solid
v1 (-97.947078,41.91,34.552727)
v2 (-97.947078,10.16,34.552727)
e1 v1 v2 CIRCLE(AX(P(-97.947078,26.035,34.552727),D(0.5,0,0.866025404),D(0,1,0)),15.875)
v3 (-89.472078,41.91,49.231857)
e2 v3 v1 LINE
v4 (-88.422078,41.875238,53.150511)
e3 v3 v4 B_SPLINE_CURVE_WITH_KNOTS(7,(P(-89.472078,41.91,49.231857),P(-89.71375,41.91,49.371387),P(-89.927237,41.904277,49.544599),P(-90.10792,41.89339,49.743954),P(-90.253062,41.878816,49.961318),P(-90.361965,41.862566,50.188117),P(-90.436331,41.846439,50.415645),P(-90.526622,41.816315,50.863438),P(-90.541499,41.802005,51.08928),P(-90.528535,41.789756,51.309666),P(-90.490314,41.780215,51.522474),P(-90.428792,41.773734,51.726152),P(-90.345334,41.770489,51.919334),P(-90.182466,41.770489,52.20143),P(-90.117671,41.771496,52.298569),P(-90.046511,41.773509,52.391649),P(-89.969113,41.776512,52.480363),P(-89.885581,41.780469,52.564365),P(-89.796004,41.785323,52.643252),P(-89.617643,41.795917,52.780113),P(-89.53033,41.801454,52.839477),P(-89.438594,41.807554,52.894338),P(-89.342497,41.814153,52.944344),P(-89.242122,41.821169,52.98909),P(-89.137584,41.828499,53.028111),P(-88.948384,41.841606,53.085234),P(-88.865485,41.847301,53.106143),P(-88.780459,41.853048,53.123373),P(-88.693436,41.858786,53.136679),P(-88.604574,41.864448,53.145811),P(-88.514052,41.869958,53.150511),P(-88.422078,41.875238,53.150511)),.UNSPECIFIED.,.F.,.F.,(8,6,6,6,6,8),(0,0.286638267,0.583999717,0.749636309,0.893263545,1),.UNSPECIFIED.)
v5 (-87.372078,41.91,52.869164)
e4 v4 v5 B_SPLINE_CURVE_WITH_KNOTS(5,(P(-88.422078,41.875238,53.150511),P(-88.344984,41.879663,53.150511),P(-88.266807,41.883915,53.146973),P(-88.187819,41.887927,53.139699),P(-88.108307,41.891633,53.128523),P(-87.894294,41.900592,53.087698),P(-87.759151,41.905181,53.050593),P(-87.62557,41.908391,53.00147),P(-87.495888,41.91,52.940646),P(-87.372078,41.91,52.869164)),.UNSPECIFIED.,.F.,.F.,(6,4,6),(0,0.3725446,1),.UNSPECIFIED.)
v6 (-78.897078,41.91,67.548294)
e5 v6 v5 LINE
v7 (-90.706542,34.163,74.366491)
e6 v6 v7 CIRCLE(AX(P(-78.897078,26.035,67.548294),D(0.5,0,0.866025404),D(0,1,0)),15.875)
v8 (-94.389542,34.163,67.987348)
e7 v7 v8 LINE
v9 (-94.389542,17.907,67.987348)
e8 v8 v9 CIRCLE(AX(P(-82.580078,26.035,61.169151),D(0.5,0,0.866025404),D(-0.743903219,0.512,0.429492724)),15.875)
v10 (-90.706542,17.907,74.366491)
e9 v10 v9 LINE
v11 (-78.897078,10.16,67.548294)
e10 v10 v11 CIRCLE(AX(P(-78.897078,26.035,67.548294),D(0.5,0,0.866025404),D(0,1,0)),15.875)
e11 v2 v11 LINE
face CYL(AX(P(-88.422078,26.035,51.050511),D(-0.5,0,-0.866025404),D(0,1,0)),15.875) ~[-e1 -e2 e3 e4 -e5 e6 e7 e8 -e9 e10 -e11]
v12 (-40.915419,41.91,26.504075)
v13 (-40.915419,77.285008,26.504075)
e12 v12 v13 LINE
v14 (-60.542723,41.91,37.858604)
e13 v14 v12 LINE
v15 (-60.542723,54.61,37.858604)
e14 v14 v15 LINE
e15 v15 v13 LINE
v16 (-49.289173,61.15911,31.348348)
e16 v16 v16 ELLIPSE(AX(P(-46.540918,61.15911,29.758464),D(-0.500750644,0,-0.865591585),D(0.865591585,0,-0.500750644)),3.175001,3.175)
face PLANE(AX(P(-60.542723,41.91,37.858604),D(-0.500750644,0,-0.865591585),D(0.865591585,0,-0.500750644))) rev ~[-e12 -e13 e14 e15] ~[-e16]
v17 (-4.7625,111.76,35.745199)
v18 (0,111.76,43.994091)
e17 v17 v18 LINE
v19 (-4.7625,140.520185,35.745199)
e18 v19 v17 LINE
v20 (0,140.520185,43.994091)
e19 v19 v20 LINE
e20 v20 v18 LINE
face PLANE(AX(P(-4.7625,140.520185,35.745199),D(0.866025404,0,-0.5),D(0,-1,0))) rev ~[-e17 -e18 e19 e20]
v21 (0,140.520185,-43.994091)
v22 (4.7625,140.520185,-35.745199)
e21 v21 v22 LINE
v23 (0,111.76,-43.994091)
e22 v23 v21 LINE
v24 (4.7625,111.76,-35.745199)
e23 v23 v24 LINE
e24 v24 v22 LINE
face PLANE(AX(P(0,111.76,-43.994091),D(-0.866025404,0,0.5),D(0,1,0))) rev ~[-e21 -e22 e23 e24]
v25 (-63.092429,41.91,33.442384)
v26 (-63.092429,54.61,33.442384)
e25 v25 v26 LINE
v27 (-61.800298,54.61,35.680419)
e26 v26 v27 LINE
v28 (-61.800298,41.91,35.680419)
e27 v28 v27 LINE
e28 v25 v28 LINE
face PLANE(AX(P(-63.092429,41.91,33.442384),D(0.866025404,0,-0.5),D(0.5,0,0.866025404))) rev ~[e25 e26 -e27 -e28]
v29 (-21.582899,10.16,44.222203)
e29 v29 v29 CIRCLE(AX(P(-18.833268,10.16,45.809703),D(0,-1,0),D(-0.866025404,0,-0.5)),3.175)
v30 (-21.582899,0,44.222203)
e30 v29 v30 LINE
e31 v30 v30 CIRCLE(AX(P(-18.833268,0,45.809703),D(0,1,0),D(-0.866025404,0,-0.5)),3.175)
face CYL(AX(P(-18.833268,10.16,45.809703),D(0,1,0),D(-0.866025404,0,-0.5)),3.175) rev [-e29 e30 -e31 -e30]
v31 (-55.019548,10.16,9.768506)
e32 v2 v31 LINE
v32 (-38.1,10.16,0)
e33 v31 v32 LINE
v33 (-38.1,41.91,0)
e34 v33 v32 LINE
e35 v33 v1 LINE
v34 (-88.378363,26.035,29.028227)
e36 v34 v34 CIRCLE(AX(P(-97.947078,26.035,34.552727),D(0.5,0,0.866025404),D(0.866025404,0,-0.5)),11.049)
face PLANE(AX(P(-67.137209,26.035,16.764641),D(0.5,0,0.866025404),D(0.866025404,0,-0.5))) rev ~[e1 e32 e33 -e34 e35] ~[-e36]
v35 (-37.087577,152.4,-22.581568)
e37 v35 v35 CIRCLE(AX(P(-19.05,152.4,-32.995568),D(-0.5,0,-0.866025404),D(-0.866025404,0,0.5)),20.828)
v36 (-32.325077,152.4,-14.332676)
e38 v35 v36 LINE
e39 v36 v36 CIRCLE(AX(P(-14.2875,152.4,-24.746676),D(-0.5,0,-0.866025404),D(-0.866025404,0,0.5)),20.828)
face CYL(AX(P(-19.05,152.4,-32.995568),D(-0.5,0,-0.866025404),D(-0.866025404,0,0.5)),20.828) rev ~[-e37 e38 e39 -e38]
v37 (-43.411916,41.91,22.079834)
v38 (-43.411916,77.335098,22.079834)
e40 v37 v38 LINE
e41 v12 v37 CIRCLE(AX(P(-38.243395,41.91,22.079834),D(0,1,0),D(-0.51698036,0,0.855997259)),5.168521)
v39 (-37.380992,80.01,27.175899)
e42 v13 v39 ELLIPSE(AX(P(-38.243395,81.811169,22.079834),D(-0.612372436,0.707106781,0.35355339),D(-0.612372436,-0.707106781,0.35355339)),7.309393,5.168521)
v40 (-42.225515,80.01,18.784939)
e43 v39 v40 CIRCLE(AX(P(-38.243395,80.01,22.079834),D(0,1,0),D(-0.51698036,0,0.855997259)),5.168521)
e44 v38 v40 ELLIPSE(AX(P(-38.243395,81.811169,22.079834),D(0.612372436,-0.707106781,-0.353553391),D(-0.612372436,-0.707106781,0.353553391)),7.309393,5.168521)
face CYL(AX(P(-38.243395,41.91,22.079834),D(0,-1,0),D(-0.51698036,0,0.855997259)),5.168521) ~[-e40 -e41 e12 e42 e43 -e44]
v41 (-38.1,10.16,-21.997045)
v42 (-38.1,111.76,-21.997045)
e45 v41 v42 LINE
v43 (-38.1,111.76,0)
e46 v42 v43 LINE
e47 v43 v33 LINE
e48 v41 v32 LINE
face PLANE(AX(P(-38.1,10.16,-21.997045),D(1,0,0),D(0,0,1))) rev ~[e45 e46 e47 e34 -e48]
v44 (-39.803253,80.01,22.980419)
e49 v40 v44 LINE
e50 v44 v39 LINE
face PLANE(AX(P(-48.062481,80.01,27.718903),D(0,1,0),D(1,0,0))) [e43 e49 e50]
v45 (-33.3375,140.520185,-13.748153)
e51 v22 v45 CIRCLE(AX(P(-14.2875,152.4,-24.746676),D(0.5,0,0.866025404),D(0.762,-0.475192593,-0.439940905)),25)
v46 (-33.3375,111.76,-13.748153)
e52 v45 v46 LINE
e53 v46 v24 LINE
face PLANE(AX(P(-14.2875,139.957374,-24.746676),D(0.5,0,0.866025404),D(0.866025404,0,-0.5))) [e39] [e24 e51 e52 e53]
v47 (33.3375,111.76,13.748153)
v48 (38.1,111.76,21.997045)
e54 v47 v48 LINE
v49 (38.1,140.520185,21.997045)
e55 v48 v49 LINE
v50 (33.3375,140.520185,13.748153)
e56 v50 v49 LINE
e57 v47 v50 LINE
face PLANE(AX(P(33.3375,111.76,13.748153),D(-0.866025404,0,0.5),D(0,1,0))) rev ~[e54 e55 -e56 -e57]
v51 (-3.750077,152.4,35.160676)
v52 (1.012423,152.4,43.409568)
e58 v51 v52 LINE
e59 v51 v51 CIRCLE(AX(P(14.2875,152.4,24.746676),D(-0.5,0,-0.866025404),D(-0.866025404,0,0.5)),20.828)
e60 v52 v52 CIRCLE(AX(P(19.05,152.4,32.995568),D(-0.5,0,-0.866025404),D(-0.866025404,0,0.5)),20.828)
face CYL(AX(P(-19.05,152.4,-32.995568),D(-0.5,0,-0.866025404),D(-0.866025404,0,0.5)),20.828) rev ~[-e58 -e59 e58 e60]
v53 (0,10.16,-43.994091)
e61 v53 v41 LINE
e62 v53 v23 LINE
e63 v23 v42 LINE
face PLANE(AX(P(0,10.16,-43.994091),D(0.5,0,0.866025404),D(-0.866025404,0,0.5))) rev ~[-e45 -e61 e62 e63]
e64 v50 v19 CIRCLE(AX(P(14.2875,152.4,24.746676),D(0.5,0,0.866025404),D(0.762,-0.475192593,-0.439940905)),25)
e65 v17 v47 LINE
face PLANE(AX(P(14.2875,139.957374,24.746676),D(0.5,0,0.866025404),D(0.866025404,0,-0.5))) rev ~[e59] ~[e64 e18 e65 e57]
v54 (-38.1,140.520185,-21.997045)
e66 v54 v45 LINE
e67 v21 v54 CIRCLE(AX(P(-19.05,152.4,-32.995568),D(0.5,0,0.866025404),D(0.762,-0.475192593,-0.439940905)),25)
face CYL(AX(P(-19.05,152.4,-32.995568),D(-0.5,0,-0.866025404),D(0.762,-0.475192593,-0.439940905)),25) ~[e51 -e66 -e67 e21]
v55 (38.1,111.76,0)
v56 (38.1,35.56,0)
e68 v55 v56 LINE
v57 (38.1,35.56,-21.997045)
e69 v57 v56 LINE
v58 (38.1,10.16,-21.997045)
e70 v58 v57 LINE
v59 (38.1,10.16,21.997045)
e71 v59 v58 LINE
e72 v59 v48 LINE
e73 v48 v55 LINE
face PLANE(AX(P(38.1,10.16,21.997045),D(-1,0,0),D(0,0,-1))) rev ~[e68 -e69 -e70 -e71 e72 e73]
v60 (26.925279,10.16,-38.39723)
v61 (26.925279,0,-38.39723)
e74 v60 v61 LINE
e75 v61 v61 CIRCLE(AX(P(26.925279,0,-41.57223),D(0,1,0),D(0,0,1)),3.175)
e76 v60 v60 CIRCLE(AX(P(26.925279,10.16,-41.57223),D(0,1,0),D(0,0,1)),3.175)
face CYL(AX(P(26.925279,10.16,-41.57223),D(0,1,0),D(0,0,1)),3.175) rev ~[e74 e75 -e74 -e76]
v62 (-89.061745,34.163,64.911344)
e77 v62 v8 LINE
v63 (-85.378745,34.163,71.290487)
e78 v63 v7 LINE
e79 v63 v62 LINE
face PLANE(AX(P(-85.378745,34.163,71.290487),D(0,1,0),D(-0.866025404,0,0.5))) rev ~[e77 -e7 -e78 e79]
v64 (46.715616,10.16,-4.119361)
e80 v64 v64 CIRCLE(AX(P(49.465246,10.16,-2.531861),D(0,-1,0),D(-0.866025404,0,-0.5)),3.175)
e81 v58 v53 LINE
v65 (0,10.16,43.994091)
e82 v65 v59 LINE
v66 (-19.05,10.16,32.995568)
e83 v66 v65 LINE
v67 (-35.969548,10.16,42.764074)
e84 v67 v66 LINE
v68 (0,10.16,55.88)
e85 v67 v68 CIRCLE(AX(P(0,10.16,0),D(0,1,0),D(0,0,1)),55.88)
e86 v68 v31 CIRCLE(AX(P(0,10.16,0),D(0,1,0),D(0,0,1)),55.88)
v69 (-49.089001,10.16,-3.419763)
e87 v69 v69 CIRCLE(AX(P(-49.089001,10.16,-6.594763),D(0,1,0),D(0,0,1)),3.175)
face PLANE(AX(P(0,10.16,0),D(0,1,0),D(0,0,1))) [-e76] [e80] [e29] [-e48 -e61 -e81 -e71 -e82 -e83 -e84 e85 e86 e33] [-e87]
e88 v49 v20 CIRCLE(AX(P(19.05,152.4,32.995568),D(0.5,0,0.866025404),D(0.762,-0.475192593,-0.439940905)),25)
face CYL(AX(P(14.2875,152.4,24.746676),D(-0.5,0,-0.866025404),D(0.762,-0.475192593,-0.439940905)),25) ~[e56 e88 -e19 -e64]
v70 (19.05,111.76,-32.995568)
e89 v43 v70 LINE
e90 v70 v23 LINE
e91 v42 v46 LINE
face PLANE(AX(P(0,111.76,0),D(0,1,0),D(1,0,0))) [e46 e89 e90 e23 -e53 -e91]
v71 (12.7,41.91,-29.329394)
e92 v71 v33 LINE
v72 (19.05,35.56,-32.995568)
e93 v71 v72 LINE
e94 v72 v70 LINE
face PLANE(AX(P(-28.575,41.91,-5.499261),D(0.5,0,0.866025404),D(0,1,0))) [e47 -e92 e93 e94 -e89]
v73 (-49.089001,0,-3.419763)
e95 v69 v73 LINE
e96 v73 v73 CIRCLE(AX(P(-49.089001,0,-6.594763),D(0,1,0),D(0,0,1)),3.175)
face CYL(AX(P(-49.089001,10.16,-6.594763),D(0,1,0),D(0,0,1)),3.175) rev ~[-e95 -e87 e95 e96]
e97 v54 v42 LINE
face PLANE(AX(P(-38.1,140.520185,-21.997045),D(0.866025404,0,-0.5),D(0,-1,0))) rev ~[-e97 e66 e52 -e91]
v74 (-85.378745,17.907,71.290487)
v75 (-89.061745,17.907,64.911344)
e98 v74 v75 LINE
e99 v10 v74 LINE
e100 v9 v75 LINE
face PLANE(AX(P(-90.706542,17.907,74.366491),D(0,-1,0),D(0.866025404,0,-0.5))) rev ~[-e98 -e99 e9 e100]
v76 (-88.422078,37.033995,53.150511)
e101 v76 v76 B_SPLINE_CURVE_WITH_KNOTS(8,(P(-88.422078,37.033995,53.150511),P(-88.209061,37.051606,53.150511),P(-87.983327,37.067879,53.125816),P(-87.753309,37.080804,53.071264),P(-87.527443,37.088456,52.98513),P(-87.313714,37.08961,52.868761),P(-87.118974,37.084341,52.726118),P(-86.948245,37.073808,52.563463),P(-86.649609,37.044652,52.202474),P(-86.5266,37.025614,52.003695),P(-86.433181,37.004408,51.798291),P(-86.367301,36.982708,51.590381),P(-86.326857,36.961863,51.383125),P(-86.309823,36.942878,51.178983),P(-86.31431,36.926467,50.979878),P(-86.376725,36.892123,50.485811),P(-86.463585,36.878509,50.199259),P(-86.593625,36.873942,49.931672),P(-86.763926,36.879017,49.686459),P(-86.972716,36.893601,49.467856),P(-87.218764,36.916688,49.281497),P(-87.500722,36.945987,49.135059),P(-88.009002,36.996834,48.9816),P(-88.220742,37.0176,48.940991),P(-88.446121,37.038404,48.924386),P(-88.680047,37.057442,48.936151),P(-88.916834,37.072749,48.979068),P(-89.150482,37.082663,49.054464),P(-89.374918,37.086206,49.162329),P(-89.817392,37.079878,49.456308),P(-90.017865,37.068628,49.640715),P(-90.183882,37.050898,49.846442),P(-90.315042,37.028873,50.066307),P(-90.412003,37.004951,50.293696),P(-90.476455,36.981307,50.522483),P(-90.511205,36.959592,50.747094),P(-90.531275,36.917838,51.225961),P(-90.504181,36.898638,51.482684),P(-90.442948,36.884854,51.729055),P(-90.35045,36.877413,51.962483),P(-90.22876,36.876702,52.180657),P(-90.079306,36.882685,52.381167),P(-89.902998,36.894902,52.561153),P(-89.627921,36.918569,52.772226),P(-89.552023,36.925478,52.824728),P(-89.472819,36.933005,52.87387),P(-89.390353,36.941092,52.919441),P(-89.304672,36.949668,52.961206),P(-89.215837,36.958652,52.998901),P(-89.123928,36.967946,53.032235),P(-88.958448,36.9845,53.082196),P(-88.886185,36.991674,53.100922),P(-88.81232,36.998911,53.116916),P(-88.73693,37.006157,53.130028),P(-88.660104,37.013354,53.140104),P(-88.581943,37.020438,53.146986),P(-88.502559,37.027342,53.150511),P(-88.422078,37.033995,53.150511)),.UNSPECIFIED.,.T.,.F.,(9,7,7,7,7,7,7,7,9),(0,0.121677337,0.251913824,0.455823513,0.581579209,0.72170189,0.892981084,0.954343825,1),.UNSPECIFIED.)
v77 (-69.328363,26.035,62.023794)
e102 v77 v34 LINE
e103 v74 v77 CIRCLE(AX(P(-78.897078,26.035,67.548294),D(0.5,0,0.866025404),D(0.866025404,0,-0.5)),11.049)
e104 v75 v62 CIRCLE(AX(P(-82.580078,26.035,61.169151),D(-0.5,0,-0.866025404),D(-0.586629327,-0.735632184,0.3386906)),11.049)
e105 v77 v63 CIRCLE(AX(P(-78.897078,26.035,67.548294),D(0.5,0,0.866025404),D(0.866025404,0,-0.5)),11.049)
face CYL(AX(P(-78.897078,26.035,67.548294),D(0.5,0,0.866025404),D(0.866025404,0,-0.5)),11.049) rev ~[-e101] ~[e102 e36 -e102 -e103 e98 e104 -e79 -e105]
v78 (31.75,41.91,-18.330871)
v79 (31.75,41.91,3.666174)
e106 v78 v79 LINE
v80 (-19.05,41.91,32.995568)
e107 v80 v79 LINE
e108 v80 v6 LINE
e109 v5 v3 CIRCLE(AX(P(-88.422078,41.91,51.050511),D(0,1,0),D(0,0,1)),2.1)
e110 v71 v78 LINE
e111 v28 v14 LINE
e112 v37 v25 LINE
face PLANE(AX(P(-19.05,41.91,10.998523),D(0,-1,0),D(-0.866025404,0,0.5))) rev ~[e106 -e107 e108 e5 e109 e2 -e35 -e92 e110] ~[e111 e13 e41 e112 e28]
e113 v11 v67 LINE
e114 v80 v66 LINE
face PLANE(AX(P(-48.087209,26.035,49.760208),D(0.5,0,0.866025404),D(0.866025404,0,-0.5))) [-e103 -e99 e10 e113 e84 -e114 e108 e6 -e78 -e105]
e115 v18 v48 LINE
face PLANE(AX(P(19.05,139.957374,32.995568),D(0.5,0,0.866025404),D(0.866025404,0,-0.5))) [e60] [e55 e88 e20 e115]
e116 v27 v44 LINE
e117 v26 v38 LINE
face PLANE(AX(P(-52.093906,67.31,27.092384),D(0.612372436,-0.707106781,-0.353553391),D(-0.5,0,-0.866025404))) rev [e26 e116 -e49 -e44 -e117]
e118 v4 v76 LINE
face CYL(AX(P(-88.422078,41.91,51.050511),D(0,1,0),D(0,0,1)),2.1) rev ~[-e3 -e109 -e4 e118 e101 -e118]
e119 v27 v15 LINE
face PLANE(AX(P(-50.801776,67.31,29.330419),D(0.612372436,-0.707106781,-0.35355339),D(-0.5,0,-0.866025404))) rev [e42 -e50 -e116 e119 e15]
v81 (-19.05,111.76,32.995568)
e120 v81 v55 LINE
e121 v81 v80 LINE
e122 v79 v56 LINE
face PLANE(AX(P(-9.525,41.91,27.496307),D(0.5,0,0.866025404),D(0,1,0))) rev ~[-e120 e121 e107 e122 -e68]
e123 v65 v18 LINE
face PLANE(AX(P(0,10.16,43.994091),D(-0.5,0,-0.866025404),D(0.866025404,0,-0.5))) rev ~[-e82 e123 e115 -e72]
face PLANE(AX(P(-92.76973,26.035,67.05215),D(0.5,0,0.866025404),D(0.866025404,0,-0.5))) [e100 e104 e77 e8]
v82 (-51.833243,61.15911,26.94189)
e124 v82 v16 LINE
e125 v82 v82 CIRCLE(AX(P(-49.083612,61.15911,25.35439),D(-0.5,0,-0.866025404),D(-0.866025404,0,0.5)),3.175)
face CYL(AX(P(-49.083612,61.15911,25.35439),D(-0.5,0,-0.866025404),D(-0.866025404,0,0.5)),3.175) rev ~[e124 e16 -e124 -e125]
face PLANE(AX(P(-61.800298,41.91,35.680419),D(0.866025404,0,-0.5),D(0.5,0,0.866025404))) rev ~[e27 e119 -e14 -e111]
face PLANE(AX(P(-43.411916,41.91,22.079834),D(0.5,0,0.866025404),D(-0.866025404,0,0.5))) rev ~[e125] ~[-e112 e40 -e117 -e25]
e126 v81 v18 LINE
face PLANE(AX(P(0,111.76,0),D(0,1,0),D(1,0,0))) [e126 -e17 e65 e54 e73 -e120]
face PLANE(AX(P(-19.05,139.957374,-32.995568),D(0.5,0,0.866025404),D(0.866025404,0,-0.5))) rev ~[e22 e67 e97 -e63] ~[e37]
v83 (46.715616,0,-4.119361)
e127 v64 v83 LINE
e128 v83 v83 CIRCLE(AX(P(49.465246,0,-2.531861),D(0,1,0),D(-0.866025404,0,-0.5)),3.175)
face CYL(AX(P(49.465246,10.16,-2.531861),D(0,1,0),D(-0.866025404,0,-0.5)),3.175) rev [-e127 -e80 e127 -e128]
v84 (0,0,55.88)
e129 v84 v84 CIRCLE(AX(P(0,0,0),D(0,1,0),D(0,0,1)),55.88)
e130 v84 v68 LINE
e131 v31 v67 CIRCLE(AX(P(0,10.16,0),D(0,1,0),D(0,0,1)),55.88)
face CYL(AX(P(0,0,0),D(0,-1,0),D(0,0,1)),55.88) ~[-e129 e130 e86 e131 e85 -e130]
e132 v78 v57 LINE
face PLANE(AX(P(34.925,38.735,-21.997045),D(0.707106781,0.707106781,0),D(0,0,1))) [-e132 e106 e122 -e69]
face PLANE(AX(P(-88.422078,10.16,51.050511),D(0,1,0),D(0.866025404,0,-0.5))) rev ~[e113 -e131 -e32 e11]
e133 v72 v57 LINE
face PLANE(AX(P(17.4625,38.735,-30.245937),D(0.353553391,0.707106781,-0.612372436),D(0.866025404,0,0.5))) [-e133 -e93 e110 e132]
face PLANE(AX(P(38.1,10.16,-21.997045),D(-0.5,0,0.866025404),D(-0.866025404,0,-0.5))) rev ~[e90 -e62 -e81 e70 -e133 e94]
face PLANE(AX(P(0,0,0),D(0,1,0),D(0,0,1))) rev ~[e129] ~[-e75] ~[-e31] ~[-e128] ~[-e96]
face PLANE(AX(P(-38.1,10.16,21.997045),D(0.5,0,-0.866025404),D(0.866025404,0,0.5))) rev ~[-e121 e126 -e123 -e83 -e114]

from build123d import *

# Parameters (mm, degrees)
SKETCH4_R            = 55.88
BOSS_EXTRUDE2_DEPTH  = 10.16
BOSS_EXTRUDE4_DEPTH  = 101.6
BOSS_EXTRUDE5_DEPTH  = 9.525
BOSS_EXTRUDE6_START  = -9.525
BOSS_EXTRUDE6_DEPTH  = 9.525
CUT_EXTRUDE4_REACH   = 214.095
SKETCH12_R           = 20.828
SKETCH13_W           = 38.1
SKETCH13_H           = 69.85
CUT_EXTRUDE5_DEPTH   = 76.2
BOSS_EXTRUDE10_DEPTH = 19.05
SKETCH28_R           = 11.049
CUT_EXTRUDE9_DEPTH   = 38.1
CUT_EXTRUDE10_DEPTH  = 7.366
CHAMFER1_SIZE        = 6.35
SKETCH30_R           = 2.1
CUT_EXTRUDE11_DEPTH  = 7.366
SKETCH31_R           = 3.175
CUT_EXTRUDE12_DEPTH  = 215.41878972
BOSS_EXTRUDE11_DEPTH = 38.1
CHAMFER2_SIZE        = 25.4
CUT_EXTRUDE13_REACH  = 224.549
SKETCH34_R           = 3.175


with BuildPart() as part:
    # Sketch4 → Boss-Extrude2 (new body)
    with BuildSketch(Plane(origin=(0, 0, 0), x_dir=(1, 0, 0), z_dir=(0, 1, 0))):
        with Locations(Location((0, 0, 0), (0, 0, 270))):
            Circle(SKETCH4_R)
    extrude(amount=BOSS_EXTRUDE2_DEPTH)

    # Sketch8 → Boss-Extrude4 (add)
    with BuildSketch(Plane(origin=(0, 10.16, 0), x_dir=(1, 0, 0), z_dir=(0, 1, 0))):
        Polygon((0, 43.994090512), (-38.1, 21.997045256), (-38.1, -21.997045256), (0, -43.994090512), (38.1, -21.997045256), (38.1, 21.997045256), align=None)
    extrude(amount=BOSS_EXTRUDE4_DEPTH)

    # Sketch9 → Boss-Extrude5 (add)
    with BuildSketch(Plane(origin=(-19.05, 0, -32.995567884), x_dir=(-0.8660254037844386, 0, 0.5000000000000003), z_dir=(-0.5000000000000002, 0, -0.8660254037844385))):
        with BuildLine():
            Line((21.997045256, 111.76), (-21.997045256, 111.76))
            Line((-21.997045256, 111.76), (-21.997045256, 140.520185187))
            ThreePointArc((-21.997045256, 140.520185187), (0, 177.4), (21.997045256, 140.520185187))
            Line((21.997045256, 140.520185187), (21.997045256, 111.76))
        make_face()
    extrude(amount=-BOSS_EXTRUDE5_DEPTH)

    # Sketch10 → Boss-Extrude6 (add)
    with BuildSketch(Plane(origin=(19.05, 0, 32.995567884), x_dir=(0.8660254037844386, 0, -0.5000000000000001), z_dir=(0.5000000000000001, 0, 0.8660254037844386)).offset(BOSS_EXTRUDE6_START)):
        with BuildLine():
            Line((-21.997045256, 111.76), (21.997045256, 111.76))
            Line((21.997045256, 111.76), (21.997045256, 140.520185187))
            ThreePointArc((21.997045256, 140.520185187), (0, 177.4), (-21.997045256, 140.520185187))
            Line((-21.997045256, 140.520185187), (-21.997045256, 111.76))
        make_face()
    extrude(amount=BOSS_EXTRUDE6_DEPTH)

    # Cut-Extrude4: up to this face of the body (flat: up to its plane)
    cut_extrude4_end = Plane(part.part.faces().sort_by_distance((19.05, 92.730612225, 32.995567884))[0])
    # Sketch12 → Cut-Extrude4 (cut, up to the picked face)
    with BuildSketch(Plane(origin=(-19.05, 0, -32.995567884), x_dir=(-0.8660254037844386, 0, 0.5000000000000003), z_dir=(-0.5000000000000002, 0, -0.8660254037844385)), mode=Mode.PRIVATE) as cut_extrude4_sk1:
        with Locations((0, 152.4)):
            Circle(SKETCH12_R)
    cut_extrude4_tool1 = split(extrude(cut_extrude4_sk1.sketch, amount=-CUT_EXTRUDE4_REACH, mode=Mode.PRIVATE), bisect_by=cut_extrude4_end, keep=Keep.BOTH, mode=Mode.PRIVATE)
    add(cut_extrude4_tool1.solids().sort_by(Axis((-19.05, 152.4, -32.995568), (0.5000000000000002, 0, 0.8660254037844385)))[0], mode=Mode.SUBTRACT)

    # Sketch13 → Cut-Extrude5 (cut, symmetric)
    with BuildSketch(Plane(origin=(-19.05, 0, 10.998522628), x_dir=(0.5000000000000002, 0, 0.8660254037844386), z_dir=(-0.8660254037844385, 0, 0.5000000000000001))):
        with Locations((0, 76.835)):
            Rectangle(SKETCH13_W, SKETCH13_H)
    extrude(amount=CUT_EXTRUDE5_DEPTH, both=True, mode=Mode.SUBTRACT)

    # Sketch22 → Boss-Extrude10 (add, symmetric)
    with BuildSketch(Plane(origin=(0, 0, 0), x_dir=(-0.8660254037844386, 0, 0.5000000000000001), z_dir=(-0.5000000000000001, 0, -0.8660254037844386))):
        with BuildLine():
            Line((43.994090512, 41.91), (102.10102108, 41.91))
            ThreePointArc((102.10102108, 41.91), (117.97602108, 26.035), (102.10102108, 10.16))
            Line((102.10102108, 10.16), (43.994090512, 10.16))
            Line((43.994090512, 10.16), (21.997045256, 10.16))
            Line((21.997045256, 10.16), (21.997045256, 41.91))
            Line((21.997045256, 41.91), (43.994090512, 41.91))
        make_face()
    extrude(amount=BOSS_EXTRUDE10_DEPTH, both=True)

    # Sketch28 → Cut-Extrude9 (cut)
    with BuildSketch(Plane(origin=(9.525, 0, 16.497783942), x_dir=(0.8660254037844386, 0, -0.5000000000000001), z_dir=(0.5000000000000001, 0, 0.8660254037844386))):
        with Locations((-102.10102108, 26.035)):
            Circle(SKETCH28_R)
    extrude(amount=-CUT_EXTRUDE9_DEPTH, mode=Mode.SUBTRACT)

    # Sketch29 → Cut-Extrude10 (cut)
    with BuildSketch(Plane(origin=(9.525, 0, 16.497783942), x_dir=(0.8660254037844386, 0, -0.5000000000000001), z_dir=(0.5000000000000001, 0, 0.8660254037844386))):
        with BuildLine():
            Line((-115.737415068, 17.907), (-109.585405958, 17.907))
            ThreePointArc((-109.585405958, 17.907), (-113.15002108, 26.035), (-109.585405958, 34.163))
            Line((-109.585405958, 34.163), (-115.737415068, 34.163))
            ThreePointArc((-115.737415068, 34.163), (-117.97602108, 26.035), (-115.737415068, 17.907))
        make_face()
    extrude(amount=-CUT_EXTRUDE10_DEPTH, mode=Mode.SUBTRACT)

    # Chamfer1
    chamfer1_edges = [part.edges().sort_by_distance(p)[0] for p in [
        (38.1, 41.91, -10.998522628),
        (28.575, 41.91, -27.49630657),
    ]]
    chamfer(chamfer1_edges, length=CHAMFER1_SIZE)

    # Sketch30 → Cut-Extrude11 (cut)
    with BuildSketch(Plane(origin=(0, 41.91, 0), x_dir=(1, 0, 0), z_dir=(0, 1, 0))):
        with Locations(Location((-88.422078008, -51.05051054, 0), (0, 0, 270))):
            Circle(SKETCH30_R)
    extrude(amount=-CUT_EXTRUDE11_DEPTH, mode=Mode.SUBTRACT)

    # Sketch31 → Cut-Extrude12 (cut, through all)
    with BuildSketch(Plane(origin=(0, 10.16, 0), x_dir=(1, 0, 0), z_dir=(0, 1, 0))):
        with Locations(Location((-49.089000823, 6.594762938, 0), (0, 0, 270))):
            Circle(SKETCH31_R)
        with Locations(Location((26.925278647, 41.57222955, 0), (0, 0, 270))):
            Circle(SKETCH31_R)
    cut_extrude12 = extrude(amount=-CUT_EXTRUDE12_DEPTH, mode=Mode.SUBTRACT)

    # Mirror1: Cut-Extrude12 across plane
    add(cut_extrude12.mirror(Plane(origin=(0, 0, 0), x_dir=(-0.8660254037844386, 0, 0.5000000000000001), z_dir=(-0.5000000000000001, 0, -0.8660254037844386))), mode=Mode.SUBTRACT)

    # Sketch33 → Boss-Extrude11 (add)
    with BuildSketch(Plane(origin=(0, 41.91, 0), x_dir=(1, 0, 0), z_dir=(0, 1, 0))):
        with BuildLine():
            Line((-43.411916389, -22.079834386), (-63.092428819, -33.442383535))
            Line((-63.092428819, -33.442383535), (-61.800298466, -35.680418955))
            Line((-61.800298466, -35.680418955), (-60.542722832, -37.858603849))
            Line((-60.542722832, -37.858603849), (-40.91541904, -26.504074545))
            ThreePointArc((-40.91541904, -26.504074545), (-33.742060338, -19.539834386), (-43.411916389, -22.079834386))
        make_face()
    extrude(amount=BOSS_EXTRUDE11_DEPTH)

    # Chamfer2
    chamfer2_edges = [part.edges().sort_by_distance(p)[0] for p in [
        (-61.817575825, 80.01, 35.650493692),
    ]]
    chamfer(chamfer2_edges, length=CHAMFER2_SIZE)

    # Cut-Extrude13: up to this plane
    cut_extrude13_end = Plane(origin=(-60.542722832, 80.01, 37.858603849), z_dir=(-0.500750644235671, 0, -0.8655915851587056))
    # Sketch34 → Cut-Extrude13 (cut, up to the surface)
    with BuildSketch(Plane(origin=(-1.292130352, 0, -2.23803542), x_dir=(-0.8660254037844386, 0, 0.5000000000000003), z_dir=(-0.5000000000000002, 0, -0.8660254037844385)), mode=Mode.PRIVATE) as cut_extrude13_sk1:
        with Locations((55.184849848, 61.159110234)):
            Circle(SKETCH34_R)
    cut_extrude13_tool1 = split(extrude(cut_extrude13_sk1.sketch, amount=-CUT_EXTRUDE13_REACH, mode=Mode.PRIVATE), bisect_by=cut_extrude13_end, keep=Keep.BOTH, mode=Mode.PRIVATE)
    add(cut_extrude13_tool1.solids().sort_by_distance((-49.083612, 61.15911, 25.35439))[0], mode=Mode.SUBTRACT)


solid = part.part
